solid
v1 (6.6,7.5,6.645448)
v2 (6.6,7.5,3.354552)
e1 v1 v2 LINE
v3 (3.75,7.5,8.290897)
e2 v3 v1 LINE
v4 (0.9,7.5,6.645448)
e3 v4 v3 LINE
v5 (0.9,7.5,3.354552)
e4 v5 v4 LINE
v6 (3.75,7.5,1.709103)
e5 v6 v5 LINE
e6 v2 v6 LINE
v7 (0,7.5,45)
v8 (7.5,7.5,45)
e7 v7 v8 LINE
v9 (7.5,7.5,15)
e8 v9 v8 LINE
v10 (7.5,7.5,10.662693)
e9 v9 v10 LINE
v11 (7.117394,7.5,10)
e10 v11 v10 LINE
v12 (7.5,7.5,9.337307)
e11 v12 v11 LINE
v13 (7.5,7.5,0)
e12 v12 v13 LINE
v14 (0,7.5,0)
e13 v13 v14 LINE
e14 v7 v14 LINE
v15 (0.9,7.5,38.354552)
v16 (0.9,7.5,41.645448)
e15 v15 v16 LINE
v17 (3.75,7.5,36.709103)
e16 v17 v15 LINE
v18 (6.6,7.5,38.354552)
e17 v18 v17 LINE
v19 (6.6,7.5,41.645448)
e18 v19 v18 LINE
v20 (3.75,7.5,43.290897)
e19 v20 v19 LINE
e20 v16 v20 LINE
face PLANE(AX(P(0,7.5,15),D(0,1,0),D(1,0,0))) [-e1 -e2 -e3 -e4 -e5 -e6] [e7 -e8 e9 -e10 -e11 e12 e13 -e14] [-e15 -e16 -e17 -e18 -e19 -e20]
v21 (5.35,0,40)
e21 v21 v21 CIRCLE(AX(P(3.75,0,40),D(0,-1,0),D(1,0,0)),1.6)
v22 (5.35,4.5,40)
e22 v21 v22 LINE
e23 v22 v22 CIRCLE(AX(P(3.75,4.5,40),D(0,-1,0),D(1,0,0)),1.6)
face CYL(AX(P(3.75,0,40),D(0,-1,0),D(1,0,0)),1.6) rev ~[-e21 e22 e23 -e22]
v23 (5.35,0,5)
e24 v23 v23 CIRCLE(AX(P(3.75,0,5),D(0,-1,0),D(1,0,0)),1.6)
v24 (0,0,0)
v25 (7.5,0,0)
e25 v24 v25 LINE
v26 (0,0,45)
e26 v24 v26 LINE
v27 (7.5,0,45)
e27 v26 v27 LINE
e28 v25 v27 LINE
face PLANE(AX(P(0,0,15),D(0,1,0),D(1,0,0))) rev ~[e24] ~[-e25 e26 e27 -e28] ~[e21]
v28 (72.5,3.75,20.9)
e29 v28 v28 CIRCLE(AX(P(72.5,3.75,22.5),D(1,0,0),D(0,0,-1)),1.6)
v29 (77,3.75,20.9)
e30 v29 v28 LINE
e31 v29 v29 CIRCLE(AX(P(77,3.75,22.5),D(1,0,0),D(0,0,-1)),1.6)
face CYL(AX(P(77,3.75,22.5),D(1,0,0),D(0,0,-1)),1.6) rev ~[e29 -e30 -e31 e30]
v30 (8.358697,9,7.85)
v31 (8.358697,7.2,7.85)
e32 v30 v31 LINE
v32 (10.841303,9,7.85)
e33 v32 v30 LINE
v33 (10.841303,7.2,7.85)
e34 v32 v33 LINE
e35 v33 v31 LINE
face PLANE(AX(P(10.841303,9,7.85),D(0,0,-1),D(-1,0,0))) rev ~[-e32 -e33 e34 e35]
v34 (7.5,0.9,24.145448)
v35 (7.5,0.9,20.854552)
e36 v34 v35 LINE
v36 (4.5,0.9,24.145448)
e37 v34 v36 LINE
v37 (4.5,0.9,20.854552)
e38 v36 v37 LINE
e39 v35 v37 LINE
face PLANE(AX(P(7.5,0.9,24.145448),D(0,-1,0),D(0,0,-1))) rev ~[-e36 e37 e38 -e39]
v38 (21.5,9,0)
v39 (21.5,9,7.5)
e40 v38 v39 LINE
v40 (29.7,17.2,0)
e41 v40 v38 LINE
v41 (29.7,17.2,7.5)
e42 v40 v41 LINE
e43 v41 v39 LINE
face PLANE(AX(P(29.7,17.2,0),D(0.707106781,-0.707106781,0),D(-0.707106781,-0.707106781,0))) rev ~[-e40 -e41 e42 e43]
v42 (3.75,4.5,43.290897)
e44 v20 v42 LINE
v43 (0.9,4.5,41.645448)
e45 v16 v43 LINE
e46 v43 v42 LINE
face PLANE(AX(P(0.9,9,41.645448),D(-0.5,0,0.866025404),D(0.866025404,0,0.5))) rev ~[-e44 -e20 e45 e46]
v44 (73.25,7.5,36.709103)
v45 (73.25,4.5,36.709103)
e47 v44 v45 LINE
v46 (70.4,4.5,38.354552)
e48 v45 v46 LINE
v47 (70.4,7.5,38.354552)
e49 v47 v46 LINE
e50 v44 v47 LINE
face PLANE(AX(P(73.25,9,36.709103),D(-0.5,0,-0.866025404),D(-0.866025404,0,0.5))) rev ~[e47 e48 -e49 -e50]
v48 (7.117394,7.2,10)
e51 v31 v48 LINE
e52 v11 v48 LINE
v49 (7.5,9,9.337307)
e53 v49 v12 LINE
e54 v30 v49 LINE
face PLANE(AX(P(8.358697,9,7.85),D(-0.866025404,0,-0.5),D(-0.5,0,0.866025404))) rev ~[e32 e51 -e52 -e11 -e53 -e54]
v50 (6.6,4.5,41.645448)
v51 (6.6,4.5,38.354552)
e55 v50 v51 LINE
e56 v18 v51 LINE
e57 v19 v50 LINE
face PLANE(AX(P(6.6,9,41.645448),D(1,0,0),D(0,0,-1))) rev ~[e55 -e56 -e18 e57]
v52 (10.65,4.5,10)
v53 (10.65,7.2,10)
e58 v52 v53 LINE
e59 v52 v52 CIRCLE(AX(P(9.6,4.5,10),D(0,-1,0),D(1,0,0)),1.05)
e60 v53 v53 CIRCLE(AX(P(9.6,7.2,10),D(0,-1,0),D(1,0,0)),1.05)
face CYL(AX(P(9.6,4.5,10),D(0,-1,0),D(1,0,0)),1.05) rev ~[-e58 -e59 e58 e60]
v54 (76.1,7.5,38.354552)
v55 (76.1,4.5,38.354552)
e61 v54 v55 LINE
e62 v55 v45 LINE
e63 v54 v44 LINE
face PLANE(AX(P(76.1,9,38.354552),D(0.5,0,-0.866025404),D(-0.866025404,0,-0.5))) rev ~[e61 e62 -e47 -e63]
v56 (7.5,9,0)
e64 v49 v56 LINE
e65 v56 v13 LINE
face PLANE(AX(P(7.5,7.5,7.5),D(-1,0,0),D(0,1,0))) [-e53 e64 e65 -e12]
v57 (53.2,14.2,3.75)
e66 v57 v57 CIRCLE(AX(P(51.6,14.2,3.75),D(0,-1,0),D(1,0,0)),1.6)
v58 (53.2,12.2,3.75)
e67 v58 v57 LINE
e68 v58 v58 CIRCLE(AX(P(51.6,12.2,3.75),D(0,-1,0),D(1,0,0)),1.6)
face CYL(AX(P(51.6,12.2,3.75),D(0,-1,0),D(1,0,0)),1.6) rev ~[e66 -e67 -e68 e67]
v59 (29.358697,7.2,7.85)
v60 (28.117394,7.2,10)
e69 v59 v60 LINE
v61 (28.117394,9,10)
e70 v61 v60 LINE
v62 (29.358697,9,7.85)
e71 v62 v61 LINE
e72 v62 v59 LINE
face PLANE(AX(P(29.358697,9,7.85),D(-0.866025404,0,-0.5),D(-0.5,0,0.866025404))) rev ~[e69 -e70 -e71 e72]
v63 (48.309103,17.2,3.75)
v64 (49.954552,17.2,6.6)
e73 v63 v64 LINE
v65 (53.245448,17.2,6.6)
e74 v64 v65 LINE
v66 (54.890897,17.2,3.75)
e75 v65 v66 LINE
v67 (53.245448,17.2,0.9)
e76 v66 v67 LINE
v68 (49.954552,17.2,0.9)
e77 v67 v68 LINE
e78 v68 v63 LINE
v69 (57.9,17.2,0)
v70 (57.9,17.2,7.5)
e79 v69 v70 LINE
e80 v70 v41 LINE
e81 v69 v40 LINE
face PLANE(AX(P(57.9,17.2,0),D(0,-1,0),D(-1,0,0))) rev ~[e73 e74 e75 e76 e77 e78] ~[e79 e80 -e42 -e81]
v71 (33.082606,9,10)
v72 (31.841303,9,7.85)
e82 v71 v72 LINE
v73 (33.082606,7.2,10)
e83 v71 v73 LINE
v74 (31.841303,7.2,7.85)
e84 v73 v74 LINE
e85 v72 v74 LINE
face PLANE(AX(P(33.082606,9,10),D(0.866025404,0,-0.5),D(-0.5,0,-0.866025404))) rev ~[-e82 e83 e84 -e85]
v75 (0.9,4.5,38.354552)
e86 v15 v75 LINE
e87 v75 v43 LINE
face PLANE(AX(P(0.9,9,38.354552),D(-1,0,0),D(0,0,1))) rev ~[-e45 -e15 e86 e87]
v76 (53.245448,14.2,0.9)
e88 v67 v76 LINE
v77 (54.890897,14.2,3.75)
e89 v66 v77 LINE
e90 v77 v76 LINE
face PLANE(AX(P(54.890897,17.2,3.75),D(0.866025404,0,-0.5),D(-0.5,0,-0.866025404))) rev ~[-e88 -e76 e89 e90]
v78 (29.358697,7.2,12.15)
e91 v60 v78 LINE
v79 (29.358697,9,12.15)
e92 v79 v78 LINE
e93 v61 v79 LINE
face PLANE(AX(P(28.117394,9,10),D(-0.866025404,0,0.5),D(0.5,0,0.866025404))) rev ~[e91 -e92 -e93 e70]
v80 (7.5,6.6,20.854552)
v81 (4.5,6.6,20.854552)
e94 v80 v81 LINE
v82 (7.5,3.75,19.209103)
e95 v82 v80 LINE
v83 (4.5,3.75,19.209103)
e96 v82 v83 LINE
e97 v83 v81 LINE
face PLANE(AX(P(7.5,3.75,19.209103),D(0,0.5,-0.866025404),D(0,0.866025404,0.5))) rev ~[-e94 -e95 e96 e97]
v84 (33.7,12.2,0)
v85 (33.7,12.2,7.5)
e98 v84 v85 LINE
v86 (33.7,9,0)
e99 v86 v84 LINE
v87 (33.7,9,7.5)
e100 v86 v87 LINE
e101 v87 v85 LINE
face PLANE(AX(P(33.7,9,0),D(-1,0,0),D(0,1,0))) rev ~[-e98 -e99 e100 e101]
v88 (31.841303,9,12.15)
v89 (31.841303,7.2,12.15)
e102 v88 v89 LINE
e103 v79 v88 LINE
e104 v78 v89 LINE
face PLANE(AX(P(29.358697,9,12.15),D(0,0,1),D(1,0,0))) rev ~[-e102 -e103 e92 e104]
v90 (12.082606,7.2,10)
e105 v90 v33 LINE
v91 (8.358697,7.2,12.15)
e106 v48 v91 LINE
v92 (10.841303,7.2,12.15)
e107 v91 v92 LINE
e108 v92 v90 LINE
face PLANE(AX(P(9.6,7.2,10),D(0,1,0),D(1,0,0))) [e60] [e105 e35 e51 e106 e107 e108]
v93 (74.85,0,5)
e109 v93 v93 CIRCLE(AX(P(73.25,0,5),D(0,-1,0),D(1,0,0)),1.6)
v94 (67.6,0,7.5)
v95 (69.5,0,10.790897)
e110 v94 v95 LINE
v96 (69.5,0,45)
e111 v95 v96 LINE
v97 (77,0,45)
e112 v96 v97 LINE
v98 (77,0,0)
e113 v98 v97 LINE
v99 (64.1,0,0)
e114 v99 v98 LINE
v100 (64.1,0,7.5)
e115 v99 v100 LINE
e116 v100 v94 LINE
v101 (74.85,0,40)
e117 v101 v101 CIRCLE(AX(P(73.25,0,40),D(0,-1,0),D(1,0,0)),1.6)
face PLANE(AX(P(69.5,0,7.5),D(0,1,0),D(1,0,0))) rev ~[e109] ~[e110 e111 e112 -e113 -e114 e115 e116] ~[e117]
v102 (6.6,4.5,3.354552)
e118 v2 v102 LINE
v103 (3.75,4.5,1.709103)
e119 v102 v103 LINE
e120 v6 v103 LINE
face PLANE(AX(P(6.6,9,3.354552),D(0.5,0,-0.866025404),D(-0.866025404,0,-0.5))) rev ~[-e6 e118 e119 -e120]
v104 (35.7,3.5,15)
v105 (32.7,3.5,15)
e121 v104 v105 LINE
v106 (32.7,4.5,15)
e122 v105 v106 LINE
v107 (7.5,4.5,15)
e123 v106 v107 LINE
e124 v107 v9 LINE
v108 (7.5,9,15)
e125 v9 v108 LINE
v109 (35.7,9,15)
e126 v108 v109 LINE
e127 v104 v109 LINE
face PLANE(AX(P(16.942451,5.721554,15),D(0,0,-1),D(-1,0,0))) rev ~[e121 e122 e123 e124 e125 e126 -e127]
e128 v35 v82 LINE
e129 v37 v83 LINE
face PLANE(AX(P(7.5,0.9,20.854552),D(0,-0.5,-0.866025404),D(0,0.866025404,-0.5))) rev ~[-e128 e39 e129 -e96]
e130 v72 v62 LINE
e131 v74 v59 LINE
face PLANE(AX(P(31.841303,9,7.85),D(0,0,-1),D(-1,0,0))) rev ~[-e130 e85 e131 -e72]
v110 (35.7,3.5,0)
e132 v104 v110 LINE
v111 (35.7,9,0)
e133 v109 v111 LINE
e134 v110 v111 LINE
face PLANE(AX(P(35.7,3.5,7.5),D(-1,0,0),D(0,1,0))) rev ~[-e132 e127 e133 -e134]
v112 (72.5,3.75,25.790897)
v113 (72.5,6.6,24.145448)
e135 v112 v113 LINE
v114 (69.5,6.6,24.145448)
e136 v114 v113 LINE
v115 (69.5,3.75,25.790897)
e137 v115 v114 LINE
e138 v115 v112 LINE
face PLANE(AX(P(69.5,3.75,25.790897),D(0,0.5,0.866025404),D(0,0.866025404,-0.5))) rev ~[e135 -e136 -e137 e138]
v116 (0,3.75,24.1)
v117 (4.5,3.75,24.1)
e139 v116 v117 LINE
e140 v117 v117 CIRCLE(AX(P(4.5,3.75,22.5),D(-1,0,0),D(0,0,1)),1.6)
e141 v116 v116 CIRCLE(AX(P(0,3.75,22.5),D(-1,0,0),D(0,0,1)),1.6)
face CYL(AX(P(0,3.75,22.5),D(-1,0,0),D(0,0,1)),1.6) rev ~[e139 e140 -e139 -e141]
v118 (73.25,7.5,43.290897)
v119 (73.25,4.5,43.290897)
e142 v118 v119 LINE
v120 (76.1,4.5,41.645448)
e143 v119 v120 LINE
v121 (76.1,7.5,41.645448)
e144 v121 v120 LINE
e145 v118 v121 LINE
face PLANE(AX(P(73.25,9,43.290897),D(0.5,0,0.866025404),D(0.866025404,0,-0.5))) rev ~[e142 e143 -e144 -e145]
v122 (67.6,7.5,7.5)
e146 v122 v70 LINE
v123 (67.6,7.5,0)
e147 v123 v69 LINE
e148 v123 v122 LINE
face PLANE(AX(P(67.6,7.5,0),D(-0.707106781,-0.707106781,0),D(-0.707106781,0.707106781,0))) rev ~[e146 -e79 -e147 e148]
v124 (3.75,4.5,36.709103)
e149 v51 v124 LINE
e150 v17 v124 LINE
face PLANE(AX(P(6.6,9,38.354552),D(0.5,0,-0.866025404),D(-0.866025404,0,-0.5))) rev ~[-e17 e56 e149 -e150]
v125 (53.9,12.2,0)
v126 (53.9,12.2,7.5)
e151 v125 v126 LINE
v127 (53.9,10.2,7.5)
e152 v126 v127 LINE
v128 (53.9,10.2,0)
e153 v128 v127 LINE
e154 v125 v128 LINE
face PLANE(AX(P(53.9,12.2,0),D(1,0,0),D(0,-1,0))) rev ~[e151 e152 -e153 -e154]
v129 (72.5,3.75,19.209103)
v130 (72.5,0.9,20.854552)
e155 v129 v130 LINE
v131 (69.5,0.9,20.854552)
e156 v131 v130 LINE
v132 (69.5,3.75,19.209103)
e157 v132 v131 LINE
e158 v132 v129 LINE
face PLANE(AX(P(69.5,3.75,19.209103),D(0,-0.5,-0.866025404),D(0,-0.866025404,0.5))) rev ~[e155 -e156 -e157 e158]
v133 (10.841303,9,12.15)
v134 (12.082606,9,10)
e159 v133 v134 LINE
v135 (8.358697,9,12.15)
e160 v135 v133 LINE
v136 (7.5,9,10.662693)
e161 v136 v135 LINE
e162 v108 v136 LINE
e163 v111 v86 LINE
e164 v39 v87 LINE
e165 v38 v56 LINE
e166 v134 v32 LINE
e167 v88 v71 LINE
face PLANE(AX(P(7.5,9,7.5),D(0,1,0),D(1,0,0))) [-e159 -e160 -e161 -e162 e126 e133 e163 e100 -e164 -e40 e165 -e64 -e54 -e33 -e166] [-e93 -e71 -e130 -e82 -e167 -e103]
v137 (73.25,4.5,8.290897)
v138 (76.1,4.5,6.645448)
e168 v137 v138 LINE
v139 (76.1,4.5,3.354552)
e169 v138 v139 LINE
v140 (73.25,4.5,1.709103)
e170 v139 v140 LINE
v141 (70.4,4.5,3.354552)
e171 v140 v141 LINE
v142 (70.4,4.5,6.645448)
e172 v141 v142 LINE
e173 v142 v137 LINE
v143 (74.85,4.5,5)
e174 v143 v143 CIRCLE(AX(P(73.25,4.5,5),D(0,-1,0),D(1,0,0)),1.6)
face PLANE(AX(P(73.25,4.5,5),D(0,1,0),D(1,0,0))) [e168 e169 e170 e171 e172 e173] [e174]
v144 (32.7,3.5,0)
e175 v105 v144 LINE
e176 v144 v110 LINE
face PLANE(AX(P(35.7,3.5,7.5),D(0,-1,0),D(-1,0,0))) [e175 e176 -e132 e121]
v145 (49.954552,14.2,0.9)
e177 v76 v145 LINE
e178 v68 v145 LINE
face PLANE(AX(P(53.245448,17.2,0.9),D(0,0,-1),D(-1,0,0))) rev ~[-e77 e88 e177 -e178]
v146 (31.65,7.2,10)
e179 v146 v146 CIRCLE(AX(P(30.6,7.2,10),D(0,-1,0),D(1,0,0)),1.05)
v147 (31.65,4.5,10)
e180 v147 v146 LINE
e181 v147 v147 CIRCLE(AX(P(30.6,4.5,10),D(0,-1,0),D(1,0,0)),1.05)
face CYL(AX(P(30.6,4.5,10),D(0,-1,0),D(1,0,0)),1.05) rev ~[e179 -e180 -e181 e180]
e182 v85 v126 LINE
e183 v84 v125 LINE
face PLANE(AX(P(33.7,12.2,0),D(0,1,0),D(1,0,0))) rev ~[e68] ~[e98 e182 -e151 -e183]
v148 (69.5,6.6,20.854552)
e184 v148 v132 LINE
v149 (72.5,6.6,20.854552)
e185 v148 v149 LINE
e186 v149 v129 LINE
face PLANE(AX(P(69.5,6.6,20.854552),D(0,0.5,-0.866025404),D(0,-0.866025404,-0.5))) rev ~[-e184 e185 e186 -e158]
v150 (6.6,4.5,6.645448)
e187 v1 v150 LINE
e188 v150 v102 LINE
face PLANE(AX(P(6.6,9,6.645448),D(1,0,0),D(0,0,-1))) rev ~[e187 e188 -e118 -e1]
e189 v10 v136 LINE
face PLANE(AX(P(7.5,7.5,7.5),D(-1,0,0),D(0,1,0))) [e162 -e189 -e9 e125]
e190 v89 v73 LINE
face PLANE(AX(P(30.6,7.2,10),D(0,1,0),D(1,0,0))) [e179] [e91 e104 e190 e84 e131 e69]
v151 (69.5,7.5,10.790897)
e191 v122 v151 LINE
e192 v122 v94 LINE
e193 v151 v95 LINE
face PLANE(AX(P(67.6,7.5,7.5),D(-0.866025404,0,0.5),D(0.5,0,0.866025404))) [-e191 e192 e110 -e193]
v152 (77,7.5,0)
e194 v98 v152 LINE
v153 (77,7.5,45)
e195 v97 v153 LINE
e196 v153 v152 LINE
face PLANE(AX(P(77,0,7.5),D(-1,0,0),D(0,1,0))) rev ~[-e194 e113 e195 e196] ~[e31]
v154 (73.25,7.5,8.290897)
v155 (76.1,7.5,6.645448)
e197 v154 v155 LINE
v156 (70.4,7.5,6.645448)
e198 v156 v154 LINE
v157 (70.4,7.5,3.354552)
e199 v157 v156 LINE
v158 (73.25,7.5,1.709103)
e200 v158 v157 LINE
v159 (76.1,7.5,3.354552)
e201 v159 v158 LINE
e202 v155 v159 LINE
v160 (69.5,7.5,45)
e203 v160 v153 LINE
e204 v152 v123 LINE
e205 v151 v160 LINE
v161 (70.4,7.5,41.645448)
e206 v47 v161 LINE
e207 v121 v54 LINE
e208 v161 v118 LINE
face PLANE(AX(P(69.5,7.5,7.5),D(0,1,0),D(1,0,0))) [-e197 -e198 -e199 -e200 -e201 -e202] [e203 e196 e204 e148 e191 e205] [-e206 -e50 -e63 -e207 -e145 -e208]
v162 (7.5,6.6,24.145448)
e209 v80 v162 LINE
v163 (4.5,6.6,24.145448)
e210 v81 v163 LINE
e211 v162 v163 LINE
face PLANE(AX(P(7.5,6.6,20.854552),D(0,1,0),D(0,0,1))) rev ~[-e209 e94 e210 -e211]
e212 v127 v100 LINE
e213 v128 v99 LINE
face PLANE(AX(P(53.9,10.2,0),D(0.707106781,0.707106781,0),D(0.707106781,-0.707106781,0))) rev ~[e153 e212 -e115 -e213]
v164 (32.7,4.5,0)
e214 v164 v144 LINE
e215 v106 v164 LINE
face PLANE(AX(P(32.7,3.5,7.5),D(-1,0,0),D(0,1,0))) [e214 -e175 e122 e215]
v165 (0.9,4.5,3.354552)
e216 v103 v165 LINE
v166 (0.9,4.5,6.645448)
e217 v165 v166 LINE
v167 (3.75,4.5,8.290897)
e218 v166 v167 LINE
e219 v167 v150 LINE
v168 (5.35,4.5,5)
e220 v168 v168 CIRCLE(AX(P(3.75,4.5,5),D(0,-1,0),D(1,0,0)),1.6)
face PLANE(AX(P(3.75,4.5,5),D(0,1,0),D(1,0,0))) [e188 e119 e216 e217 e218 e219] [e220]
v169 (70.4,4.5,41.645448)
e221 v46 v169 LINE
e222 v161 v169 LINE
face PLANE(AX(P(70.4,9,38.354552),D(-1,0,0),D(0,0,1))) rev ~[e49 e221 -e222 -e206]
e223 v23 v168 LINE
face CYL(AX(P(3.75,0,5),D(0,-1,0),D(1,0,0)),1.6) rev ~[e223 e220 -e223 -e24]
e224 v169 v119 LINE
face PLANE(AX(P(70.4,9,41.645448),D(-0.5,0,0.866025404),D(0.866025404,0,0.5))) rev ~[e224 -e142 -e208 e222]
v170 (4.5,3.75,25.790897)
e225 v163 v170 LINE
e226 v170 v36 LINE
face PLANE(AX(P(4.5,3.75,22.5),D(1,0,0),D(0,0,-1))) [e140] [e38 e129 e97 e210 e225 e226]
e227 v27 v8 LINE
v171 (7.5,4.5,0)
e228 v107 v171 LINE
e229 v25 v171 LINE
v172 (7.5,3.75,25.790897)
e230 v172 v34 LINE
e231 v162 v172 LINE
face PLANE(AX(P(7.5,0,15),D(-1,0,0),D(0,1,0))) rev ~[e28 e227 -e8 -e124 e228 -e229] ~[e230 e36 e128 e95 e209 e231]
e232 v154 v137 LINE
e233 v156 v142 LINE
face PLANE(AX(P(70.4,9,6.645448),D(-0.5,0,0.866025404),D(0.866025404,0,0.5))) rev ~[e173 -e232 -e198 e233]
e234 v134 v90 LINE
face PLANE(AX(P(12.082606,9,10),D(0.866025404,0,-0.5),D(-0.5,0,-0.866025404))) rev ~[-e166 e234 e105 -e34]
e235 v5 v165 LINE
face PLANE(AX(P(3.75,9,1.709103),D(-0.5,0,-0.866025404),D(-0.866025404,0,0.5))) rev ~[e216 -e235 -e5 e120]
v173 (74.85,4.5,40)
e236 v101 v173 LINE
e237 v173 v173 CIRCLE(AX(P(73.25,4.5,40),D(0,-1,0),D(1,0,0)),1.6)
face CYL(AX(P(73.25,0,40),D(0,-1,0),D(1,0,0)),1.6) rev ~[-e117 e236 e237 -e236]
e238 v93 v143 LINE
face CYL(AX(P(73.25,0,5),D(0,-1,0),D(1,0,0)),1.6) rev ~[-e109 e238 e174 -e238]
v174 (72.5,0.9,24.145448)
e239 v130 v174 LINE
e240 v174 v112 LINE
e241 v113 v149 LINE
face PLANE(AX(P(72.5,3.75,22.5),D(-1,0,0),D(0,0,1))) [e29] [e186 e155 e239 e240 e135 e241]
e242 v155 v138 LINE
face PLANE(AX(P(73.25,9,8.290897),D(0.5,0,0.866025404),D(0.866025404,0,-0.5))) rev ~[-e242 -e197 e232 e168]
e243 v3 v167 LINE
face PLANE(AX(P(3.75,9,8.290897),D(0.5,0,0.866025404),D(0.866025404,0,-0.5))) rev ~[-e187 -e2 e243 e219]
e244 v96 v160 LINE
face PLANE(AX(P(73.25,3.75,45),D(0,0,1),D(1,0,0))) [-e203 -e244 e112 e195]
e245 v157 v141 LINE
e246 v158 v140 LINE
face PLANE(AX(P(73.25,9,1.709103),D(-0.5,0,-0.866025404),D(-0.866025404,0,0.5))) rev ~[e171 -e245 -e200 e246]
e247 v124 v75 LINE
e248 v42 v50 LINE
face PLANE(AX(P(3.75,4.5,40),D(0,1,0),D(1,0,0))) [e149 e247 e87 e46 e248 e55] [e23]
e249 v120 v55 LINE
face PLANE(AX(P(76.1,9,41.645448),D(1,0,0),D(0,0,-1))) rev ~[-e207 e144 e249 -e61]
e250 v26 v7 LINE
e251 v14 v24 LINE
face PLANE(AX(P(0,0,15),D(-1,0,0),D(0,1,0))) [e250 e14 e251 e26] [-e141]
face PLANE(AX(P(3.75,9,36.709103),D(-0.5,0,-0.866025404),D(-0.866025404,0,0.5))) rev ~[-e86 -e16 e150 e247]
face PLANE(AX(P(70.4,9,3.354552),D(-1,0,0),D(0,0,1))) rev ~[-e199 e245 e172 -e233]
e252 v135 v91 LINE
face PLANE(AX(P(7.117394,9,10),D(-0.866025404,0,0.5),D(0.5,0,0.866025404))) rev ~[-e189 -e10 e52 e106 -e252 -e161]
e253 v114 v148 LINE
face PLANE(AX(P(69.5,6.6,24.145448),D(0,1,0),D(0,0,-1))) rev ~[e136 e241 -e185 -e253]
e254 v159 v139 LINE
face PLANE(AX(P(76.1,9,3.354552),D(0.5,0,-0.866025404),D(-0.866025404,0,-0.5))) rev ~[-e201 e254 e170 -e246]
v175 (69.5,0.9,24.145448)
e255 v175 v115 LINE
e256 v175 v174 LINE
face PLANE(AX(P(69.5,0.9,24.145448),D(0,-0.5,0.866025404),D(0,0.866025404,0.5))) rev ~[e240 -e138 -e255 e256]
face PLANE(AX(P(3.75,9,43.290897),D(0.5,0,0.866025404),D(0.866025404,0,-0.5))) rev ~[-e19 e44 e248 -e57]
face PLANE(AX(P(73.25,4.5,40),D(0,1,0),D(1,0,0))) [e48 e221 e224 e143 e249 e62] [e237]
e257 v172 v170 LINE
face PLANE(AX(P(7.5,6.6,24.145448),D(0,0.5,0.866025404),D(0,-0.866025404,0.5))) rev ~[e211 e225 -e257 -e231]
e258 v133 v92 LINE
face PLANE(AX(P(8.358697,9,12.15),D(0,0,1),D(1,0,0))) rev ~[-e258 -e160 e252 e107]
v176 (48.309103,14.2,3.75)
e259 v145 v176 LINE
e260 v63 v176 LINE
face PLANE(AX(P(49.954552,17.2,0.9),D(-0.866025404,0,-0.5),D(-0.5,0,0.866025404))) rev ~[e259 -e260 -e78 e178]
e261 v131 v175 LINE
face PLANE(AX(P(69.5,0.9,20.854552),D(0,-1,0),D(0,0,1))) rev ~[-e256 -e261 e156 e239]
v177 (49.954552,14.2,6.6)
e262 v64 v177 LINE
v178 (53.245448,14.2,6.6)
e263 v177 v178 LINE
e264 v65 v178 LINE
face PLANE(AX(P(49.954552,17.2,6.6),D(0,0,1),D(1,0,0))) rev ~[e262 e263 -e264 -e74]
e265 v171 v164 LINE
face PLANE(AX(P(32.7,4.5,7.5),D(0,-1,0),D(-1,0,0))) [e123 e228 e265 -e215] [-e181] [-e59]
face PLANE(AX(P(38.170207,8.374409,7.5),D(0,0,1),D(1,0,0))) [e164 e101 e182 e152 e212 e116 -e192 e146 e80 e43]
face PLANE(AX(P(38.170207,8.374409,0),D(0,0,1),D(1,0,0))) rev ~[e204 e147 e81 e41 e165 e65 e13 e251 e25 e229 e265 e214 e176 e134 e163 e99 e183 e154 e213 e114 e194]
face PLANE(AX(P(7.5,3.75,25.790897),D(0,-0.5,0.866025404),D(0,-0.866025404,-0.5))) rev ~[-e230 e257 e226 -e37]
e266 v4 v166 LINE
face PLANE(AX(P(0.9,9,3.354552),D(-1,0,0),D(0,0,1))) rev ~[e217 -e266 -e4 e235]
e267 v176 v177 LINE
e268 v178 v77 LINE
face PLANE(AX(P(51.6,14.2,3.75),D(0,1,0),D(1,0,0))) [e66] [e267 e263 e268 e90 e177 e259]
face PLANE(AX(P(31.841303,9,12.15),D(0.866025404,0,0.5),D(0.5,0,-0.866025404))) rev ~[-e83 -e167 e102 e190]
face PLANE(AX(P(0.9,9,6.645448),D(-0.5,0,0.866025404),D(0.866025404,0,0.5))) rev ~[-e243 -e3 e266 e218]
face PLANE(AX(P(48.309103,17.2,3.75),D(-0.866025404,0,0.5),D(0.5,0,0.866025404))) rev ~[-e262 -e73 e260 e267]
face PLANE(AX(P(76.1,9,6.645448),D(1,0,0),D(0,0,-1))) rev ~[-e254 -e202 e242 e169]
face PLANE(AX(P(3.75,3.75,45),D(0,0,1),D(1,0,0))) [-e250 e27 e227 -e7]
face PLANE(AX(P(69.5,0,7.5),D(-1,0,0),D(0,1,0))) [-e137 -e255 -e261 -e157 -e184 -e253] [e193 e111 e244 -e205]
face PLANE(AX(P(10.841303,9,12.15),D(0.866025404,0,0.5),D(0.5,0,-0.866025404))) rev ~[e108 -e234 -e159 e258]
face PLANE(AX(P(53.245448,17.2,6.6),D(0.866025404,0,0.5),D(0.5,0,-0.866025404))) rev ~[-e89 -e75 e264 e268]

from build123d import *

# Parameters (mm, degrees)
SALIENTE_EXTRUIR1_DEPTH = 7.5
SALIENTE_EXTRUIR2_DEPTH = 7.5
CROQUIS3_W              = 7.5
CROQUIS3_H              = 7.5
SALIENTE_EXTRUIR3_DEPTH = 30
SALIENTE_EXTRUIR4_DEPTH = 7.5
CROQUIS5_W              = 7.5
CROQUIS5_H              = 7.5
SALIENTE_EXTRUIR5_DEPTH = 37.5
CORTAR_EXTRUIR1_REACH   = 19.2
CROQUIS7_R              = 1.6
CORTAR_EXTRUIR2_DEPTH   = 4.5
CORTAR_EXTRUIR3_REACH   = 7
CROQUIS9_R              = 1.6
CORTAR_EXTRUIR4_DEPTH   = 3
CORTAR_EXTRUIR5_REACH   = 14.7
CROQUIS11_R             = 1.05
CORTAR_EXTRUIR6_DEPTH   = 1.8
CORTAR_EXTRUIR7_REACH   = 79
CROQUIS13_R             = 1.6
CORTAR_EXTRUIR8_DEPTH   = 3
CORTAR_EXTRUIR9_REACH   = 79
CROQUIS16_R             = 1.6
CORTAR_EXTRUIR10_DEPTH  = 3


with BuildPart() as part:
    # Croquis1 → Saliente-Extruir1 (new body)
    with BuildSketch(Plane.XY):
        Polygon((0, 0), (7.5, 0), (7.5, 4.5), (32.7, 4.5), (32.7, 3.5), (35.7, 3.5), (35.7, 9), (33.7, 9), (33.7, 12.2), (53.9, 12.2), (53.9, 10.2), (64.1, 0), (77, 0), (77, 7.5), (67.6, 7.5), (57.9, 17.2), (29.7, 17.2), (21.5, 9), (7.5, 9), (7.5, 7.5), (0, 7.5), align=None)
    extrude(amount=SALIENTE_EXTRUIR1_DEPTH)

    # Croquis2 → Saliente-Extruir2 (add)
    with BuildSketch(Plane.XY.offset(7.5)):
        Polygon((0, 7.5), (7.5, 7.5), (7.5, 9), (35.7, 9), (35.7, 7.5), (35.7, 3.5), (32.7, 3.5), (32.7, 4.5), (7.5, 4.5), (7.5, 0), (0, 0), align=None)
    extrude(amount=SALIENTE_EXTRUIR2_DEPTH)

    # Croquis3 → Saliente-Extruir3 (add)
    with BuildSketch(Plane.XY.offset(15)):
        with Locations((3.75, 3.75)):
            Rectangle(CROQUIS3_W, CROQUIS3_H)
    extrude(amount=SALIENTE_EXTRUIR3_DEPTH)

    # Croquis4 → Saliente-Extruir4 (add)
    with BuildSketch(Plane(origin=(0, 7.5, 0), x_dir=(1, 0, 0), z_dir=(0, 1, 0))):
        Polygon((67.6, -7.5), (69.5, -10.790896534), (69.5, -7.5), align=None)
    extrude(amount=-SALIENTE_EXTRUIR4_DEPTH)

    # Croquis5 → Saliente-Extruir5 (add)
    with BuildSketch(Plane.XY.offset(7.5)):
        with Locations((73.25, 3.75)):
            Rectangle(CROQUIS5_W, CROQUIS5_H)
    extrude(amount=SALIENTE_EXTRUIR5_DEPTH)

    # Croquis7 → Cortar-Extruir1 (cut, up to next)
    with BuildSketch(Plane.XZ, mode=Mode.PRIVATE) as cortar_extruir1_sk1:
        with Locations((73.25, 5)):
            Circle(CROQUIS7_R)
    cortar_extruir1_tool1 = extrude(cortar_extruir1_sk1.sketch, amount=-CORTAR_EXTRUIR1_REACH, mode=Mode.PRIVATE) & part.part
    add(cortar_extruir1_tool1.solids().sort_by_distance((73.25, 0, 5))[0], mode=Mode.SUBTRACT)
    # Croquis7 → Cortar-Extruir1 (cut, up to next)
    with BuildSketch(Plane.XZ, mode=Mode.PRIVATE) as cortar_extruir1_sk2:
        with Locations((73.25, 40)):
            Circle(CROQUIS7_R)
    cortar_extruir1_tool2 = extrude(cortar_extruir1_sk2.sketch, amount=-CORTAR_EXTRUIR1_REACH, mode=Mode.PRIVATE) & part.part
    add(cortar_extruir1_tool2.solids().sort_by_distance((73.25, 0, 40))[0], mode=Mode.SUBTRACT)
    # Croquis7 → Cortar-Extruir1 (cut, up to next)
    with BuildSketch(Plane.XZ, mode=Mode.PRIVATE) as cortar_extruir1_sk3:
        with Locations((3.75, 5)):
            Circle(CROQUIS7_R)
    cortar_extruir1_tool3 = extrude(cortar_extruir1_sk3.sketch, amount=-CORTAR_EXTRUIR1_REACH, mode=Mode.PRIVATE) & part.part
    add(cortar_extruir1_tool3.solids().sort_by_distance((3.75, 0, 5))[0], mode=Mode.SUBTRACT)
    # Croquis7 → Cortar-Extruir1 (cut, up to next)
    with BuildSketch(Plane.XZ, mode=Mode.PRIVATE) as cortar_extruir1_sk4:
        with Locations((3.75, 40)):
            Circle(CROQUIS7_R)
    cortar_extruir1_tool4 = extrude(cortar_extruir1_sk4.sketch, amount=-CORTAR_EXTRUIR1_REACH, mode=Mode.PRIVATE) & part.part
    add(cortar_extruir1_tool4.solids().sort_by_distance((3.75, 0, 40))[0], mode=Mode.SUBTRACT)

    # Croquis8 → Cortar-Extruir2 (cut)
    with BuildSketch(Plane(origin=(0, 9, 0), x_dir=(1, 0, 0), z_dir=(0, 1, 0))):
        Polygon((0.9, -3.354551733), (0.9, -6.645448267), (3.75, -8.290896534), (6.6, -6.645448267), (6.6, -3.354551733), (3.75, -1.709103466), align=None)
        Polygon((0.9, -38.354551733), (0.9, -41.645448267), (3.75, -43.290896534), (6.6, -41.645448267), (6.6, -38.354551733), (3.75, -36.709103466), align=None)
        Polygon((70.4, -38.354551733), (70.4, -41.645448267), (73.25, -43.290896534), (76.1, -41.645448267), (76.1, -38.354551733), (73.25, -36.709103466), align=None)
        Polygon((70.4, -3.354551733), (70.4, -6.645448267), (73.25, -8.290896534), (76.1, -6.645448267), (76.1, -3.354551733), (73.25, -1.709103466), align=None)
    extrude(amount=-CORTAR_EXTRUIR2_DEPTH, mode=Mode.SUBTRACT)

    # Croquis9 → Cortar-Extruir3 (cut, up to next)
    with BuildSketch(Plane.XZ.offset(-12.2), mode=Mode.PRIVATE) as cortar_extruir3_sk1:
        with Locations((51.6, 3.75)):
            Circle(CROQUIS9_R)
    cortar_extruir3_tool1 = extrude(cortar_extruir3_sk1.sketch, amount=-CORTAR_EXTRUIR3_REACH, mode=Mode.PRIVATE) & part.part
    add(cortar_extruir3_tool1.solids().sort_by_distance((51.6, 12.2, 3.75))[0], mode=Mode.SUBTRACT)

    # Croquis10 → Cortar-Extruir4 (cut)
    with BuildSketch(Plane(origin=(0, 17.2, 0), x_dir=(1, 0, 0), z_dir=(0, 1, 0))):
        Polygon((49.954551733, -0.9), (48.309103466, -3.75), (49.954551733, -6.6), (53.245448267, -6.6), (54.890896534, -3.75), (53.245448267, -0.9), align=None)
    extrude(amount=-CORTAR_EXTRUIR4_DEPTH, mode=Mode.SUBTRACT)

    # Croquis11 → Cortar-Extruir5 (cut, up to next)
    with BuildSketch(Plane.XZ.offset(-4.5), mode=Mode.PRIVATE) as cortar_extruir5_sk1:
        with Locations((30.6, 10)):
            Circle(CROQUIS11_R)
    cortar_extruir5_tool1 = extrude(cortar_extruir5_sk1.sketch, amount=-CORTAR_EXTRUIR5_REACH, mode=Mode.PRIVATE) & part.part
    add(cortar_extruir5_tool1.solids().sort_by_distance((30.6, 4.5, 10))[0], mode=Mode.SUBTRACT)
    # Croquis11 → Cortar-Extruir5 (cut, up to next)
    with BuildSketch(Plane.XZ.offset(-4.5), mode=Mode.PRIVATE) as cortar_extruir5_sk2:
        with Locations((9.6, 10)):
            Circle(CROQUIS11_R)
    cortar_extruir5_tool2 = extrude(cortar_extruir5_sk2.sketch, amount=-CORTAR_EXTRUIR5_REACH, mode=Mode.PRIVATE) & part.part
    add(cortar_extruir5_tool2.solids().sort_by_distance((9.6, 4.5, 10))[0], mode=Mode.SUBTRACT)

    # Croquis12 → Cortar-Extruir6 (cut)
    with BuildSketch(Plane(origin=(0, 9, 0), x_dir=(1, 0, 0), z_dir=(0, 1, 0))):
        Polygon((8.358696921, -12.15), (10.841303079, -12.15), (12.082606158, -10), (10.841303079, -7.85), (8.358696921, -7.85), (7.117393842, -10), align=None)
        Polygon((28.117393842, -10), (29.358696921, -12.15), (31.841303079, -12.15), (33.082606158, -10), (31.841303079, -7.85), (29.358696921, -7.85), align=None)
    extrude(amount=-CORTAR_EXTRUIR6_DEPTH, mode=Mode.SUBTRACT)

    # Croquis13 → Cortar-Extruir7 (cut, up to next)
    with BuildSketch(Plane.ZY, mode=Mode.PRIVATE) as cortar_extruir7_sk1:
        with Locations((22.5, 3.75)):
            Circle(CROQUIS13_R)
    cortar_extruir7_tool1 = extrude(cortar_extruir7_sk1.sketch, amount=-CORTAR_EXTRUIR7_REACH, mode=Mode.PRIVATE) & part.part
    add(cortar_extruir7_tool1.solids().sort_by_distance((0, 3.75, 22.5))[0], mode=Mode.SUBTRACT)

    # Croquis15 → Cortar-Extruir8 (cut)
    with BuildSketch(Plane(origin=(7.5, 0, 0), x_dir=(0, 0, -1), z_dir=(1, 0, 0))):
        Polygon((-24.145448267, 0.9), (-20.854551733, 0.9), (-19.209103466, 3.75), (-20.854551733, 6.6), (-24.145448267, 6.6), (-25.790896534, 3.75), align=None)
    extrude(amount=-CORTAR_EXTRUIR8_DEPTH, mode=Mode.SUBTRACT)

    # Croquis16 → Cortar-Extruir9 (cut, up to next)
    with BuildSketch(Plane(origin=(77, 0, 0), x_dir=(0, 0, -1), z_dir=(1, 0, 0)), mode=Mode.PRIVATE) as cortar_extruir9_sk1:
        with Locations((-22.5, 3.75)):
            Circle(CROQUIS16_R)
    cortar_extruir9_tool1 = extrude(cortar_extruir9_sk1.sketch, amount=-CORTAR_EXTRUIR9_REACH, mode=Mode.PRIVATE) & part.part
    add(cortar_extruir9_tool1.solids().sort_by_distance((77, 3.75, 22.5))[0], mode=Mode.SUBTRACT)

    # Croquis17 → Cortar-Extruir10 (cut)
    with BuildSketch(Plane.ZY.offset(-69.5)):
        Polygon((20.854551733, 0.9), (24.145448267, 0.9), (25.790896534, 3.75), (24.145448267, 6.6), (20.854551733, 6.6), (19.209103466, 3.75), align=None)
    extrude(amount=-CORTAR_EXTRUIR10_DEPTH, mode=Mode.SUBTRACT)


solid = part.part
